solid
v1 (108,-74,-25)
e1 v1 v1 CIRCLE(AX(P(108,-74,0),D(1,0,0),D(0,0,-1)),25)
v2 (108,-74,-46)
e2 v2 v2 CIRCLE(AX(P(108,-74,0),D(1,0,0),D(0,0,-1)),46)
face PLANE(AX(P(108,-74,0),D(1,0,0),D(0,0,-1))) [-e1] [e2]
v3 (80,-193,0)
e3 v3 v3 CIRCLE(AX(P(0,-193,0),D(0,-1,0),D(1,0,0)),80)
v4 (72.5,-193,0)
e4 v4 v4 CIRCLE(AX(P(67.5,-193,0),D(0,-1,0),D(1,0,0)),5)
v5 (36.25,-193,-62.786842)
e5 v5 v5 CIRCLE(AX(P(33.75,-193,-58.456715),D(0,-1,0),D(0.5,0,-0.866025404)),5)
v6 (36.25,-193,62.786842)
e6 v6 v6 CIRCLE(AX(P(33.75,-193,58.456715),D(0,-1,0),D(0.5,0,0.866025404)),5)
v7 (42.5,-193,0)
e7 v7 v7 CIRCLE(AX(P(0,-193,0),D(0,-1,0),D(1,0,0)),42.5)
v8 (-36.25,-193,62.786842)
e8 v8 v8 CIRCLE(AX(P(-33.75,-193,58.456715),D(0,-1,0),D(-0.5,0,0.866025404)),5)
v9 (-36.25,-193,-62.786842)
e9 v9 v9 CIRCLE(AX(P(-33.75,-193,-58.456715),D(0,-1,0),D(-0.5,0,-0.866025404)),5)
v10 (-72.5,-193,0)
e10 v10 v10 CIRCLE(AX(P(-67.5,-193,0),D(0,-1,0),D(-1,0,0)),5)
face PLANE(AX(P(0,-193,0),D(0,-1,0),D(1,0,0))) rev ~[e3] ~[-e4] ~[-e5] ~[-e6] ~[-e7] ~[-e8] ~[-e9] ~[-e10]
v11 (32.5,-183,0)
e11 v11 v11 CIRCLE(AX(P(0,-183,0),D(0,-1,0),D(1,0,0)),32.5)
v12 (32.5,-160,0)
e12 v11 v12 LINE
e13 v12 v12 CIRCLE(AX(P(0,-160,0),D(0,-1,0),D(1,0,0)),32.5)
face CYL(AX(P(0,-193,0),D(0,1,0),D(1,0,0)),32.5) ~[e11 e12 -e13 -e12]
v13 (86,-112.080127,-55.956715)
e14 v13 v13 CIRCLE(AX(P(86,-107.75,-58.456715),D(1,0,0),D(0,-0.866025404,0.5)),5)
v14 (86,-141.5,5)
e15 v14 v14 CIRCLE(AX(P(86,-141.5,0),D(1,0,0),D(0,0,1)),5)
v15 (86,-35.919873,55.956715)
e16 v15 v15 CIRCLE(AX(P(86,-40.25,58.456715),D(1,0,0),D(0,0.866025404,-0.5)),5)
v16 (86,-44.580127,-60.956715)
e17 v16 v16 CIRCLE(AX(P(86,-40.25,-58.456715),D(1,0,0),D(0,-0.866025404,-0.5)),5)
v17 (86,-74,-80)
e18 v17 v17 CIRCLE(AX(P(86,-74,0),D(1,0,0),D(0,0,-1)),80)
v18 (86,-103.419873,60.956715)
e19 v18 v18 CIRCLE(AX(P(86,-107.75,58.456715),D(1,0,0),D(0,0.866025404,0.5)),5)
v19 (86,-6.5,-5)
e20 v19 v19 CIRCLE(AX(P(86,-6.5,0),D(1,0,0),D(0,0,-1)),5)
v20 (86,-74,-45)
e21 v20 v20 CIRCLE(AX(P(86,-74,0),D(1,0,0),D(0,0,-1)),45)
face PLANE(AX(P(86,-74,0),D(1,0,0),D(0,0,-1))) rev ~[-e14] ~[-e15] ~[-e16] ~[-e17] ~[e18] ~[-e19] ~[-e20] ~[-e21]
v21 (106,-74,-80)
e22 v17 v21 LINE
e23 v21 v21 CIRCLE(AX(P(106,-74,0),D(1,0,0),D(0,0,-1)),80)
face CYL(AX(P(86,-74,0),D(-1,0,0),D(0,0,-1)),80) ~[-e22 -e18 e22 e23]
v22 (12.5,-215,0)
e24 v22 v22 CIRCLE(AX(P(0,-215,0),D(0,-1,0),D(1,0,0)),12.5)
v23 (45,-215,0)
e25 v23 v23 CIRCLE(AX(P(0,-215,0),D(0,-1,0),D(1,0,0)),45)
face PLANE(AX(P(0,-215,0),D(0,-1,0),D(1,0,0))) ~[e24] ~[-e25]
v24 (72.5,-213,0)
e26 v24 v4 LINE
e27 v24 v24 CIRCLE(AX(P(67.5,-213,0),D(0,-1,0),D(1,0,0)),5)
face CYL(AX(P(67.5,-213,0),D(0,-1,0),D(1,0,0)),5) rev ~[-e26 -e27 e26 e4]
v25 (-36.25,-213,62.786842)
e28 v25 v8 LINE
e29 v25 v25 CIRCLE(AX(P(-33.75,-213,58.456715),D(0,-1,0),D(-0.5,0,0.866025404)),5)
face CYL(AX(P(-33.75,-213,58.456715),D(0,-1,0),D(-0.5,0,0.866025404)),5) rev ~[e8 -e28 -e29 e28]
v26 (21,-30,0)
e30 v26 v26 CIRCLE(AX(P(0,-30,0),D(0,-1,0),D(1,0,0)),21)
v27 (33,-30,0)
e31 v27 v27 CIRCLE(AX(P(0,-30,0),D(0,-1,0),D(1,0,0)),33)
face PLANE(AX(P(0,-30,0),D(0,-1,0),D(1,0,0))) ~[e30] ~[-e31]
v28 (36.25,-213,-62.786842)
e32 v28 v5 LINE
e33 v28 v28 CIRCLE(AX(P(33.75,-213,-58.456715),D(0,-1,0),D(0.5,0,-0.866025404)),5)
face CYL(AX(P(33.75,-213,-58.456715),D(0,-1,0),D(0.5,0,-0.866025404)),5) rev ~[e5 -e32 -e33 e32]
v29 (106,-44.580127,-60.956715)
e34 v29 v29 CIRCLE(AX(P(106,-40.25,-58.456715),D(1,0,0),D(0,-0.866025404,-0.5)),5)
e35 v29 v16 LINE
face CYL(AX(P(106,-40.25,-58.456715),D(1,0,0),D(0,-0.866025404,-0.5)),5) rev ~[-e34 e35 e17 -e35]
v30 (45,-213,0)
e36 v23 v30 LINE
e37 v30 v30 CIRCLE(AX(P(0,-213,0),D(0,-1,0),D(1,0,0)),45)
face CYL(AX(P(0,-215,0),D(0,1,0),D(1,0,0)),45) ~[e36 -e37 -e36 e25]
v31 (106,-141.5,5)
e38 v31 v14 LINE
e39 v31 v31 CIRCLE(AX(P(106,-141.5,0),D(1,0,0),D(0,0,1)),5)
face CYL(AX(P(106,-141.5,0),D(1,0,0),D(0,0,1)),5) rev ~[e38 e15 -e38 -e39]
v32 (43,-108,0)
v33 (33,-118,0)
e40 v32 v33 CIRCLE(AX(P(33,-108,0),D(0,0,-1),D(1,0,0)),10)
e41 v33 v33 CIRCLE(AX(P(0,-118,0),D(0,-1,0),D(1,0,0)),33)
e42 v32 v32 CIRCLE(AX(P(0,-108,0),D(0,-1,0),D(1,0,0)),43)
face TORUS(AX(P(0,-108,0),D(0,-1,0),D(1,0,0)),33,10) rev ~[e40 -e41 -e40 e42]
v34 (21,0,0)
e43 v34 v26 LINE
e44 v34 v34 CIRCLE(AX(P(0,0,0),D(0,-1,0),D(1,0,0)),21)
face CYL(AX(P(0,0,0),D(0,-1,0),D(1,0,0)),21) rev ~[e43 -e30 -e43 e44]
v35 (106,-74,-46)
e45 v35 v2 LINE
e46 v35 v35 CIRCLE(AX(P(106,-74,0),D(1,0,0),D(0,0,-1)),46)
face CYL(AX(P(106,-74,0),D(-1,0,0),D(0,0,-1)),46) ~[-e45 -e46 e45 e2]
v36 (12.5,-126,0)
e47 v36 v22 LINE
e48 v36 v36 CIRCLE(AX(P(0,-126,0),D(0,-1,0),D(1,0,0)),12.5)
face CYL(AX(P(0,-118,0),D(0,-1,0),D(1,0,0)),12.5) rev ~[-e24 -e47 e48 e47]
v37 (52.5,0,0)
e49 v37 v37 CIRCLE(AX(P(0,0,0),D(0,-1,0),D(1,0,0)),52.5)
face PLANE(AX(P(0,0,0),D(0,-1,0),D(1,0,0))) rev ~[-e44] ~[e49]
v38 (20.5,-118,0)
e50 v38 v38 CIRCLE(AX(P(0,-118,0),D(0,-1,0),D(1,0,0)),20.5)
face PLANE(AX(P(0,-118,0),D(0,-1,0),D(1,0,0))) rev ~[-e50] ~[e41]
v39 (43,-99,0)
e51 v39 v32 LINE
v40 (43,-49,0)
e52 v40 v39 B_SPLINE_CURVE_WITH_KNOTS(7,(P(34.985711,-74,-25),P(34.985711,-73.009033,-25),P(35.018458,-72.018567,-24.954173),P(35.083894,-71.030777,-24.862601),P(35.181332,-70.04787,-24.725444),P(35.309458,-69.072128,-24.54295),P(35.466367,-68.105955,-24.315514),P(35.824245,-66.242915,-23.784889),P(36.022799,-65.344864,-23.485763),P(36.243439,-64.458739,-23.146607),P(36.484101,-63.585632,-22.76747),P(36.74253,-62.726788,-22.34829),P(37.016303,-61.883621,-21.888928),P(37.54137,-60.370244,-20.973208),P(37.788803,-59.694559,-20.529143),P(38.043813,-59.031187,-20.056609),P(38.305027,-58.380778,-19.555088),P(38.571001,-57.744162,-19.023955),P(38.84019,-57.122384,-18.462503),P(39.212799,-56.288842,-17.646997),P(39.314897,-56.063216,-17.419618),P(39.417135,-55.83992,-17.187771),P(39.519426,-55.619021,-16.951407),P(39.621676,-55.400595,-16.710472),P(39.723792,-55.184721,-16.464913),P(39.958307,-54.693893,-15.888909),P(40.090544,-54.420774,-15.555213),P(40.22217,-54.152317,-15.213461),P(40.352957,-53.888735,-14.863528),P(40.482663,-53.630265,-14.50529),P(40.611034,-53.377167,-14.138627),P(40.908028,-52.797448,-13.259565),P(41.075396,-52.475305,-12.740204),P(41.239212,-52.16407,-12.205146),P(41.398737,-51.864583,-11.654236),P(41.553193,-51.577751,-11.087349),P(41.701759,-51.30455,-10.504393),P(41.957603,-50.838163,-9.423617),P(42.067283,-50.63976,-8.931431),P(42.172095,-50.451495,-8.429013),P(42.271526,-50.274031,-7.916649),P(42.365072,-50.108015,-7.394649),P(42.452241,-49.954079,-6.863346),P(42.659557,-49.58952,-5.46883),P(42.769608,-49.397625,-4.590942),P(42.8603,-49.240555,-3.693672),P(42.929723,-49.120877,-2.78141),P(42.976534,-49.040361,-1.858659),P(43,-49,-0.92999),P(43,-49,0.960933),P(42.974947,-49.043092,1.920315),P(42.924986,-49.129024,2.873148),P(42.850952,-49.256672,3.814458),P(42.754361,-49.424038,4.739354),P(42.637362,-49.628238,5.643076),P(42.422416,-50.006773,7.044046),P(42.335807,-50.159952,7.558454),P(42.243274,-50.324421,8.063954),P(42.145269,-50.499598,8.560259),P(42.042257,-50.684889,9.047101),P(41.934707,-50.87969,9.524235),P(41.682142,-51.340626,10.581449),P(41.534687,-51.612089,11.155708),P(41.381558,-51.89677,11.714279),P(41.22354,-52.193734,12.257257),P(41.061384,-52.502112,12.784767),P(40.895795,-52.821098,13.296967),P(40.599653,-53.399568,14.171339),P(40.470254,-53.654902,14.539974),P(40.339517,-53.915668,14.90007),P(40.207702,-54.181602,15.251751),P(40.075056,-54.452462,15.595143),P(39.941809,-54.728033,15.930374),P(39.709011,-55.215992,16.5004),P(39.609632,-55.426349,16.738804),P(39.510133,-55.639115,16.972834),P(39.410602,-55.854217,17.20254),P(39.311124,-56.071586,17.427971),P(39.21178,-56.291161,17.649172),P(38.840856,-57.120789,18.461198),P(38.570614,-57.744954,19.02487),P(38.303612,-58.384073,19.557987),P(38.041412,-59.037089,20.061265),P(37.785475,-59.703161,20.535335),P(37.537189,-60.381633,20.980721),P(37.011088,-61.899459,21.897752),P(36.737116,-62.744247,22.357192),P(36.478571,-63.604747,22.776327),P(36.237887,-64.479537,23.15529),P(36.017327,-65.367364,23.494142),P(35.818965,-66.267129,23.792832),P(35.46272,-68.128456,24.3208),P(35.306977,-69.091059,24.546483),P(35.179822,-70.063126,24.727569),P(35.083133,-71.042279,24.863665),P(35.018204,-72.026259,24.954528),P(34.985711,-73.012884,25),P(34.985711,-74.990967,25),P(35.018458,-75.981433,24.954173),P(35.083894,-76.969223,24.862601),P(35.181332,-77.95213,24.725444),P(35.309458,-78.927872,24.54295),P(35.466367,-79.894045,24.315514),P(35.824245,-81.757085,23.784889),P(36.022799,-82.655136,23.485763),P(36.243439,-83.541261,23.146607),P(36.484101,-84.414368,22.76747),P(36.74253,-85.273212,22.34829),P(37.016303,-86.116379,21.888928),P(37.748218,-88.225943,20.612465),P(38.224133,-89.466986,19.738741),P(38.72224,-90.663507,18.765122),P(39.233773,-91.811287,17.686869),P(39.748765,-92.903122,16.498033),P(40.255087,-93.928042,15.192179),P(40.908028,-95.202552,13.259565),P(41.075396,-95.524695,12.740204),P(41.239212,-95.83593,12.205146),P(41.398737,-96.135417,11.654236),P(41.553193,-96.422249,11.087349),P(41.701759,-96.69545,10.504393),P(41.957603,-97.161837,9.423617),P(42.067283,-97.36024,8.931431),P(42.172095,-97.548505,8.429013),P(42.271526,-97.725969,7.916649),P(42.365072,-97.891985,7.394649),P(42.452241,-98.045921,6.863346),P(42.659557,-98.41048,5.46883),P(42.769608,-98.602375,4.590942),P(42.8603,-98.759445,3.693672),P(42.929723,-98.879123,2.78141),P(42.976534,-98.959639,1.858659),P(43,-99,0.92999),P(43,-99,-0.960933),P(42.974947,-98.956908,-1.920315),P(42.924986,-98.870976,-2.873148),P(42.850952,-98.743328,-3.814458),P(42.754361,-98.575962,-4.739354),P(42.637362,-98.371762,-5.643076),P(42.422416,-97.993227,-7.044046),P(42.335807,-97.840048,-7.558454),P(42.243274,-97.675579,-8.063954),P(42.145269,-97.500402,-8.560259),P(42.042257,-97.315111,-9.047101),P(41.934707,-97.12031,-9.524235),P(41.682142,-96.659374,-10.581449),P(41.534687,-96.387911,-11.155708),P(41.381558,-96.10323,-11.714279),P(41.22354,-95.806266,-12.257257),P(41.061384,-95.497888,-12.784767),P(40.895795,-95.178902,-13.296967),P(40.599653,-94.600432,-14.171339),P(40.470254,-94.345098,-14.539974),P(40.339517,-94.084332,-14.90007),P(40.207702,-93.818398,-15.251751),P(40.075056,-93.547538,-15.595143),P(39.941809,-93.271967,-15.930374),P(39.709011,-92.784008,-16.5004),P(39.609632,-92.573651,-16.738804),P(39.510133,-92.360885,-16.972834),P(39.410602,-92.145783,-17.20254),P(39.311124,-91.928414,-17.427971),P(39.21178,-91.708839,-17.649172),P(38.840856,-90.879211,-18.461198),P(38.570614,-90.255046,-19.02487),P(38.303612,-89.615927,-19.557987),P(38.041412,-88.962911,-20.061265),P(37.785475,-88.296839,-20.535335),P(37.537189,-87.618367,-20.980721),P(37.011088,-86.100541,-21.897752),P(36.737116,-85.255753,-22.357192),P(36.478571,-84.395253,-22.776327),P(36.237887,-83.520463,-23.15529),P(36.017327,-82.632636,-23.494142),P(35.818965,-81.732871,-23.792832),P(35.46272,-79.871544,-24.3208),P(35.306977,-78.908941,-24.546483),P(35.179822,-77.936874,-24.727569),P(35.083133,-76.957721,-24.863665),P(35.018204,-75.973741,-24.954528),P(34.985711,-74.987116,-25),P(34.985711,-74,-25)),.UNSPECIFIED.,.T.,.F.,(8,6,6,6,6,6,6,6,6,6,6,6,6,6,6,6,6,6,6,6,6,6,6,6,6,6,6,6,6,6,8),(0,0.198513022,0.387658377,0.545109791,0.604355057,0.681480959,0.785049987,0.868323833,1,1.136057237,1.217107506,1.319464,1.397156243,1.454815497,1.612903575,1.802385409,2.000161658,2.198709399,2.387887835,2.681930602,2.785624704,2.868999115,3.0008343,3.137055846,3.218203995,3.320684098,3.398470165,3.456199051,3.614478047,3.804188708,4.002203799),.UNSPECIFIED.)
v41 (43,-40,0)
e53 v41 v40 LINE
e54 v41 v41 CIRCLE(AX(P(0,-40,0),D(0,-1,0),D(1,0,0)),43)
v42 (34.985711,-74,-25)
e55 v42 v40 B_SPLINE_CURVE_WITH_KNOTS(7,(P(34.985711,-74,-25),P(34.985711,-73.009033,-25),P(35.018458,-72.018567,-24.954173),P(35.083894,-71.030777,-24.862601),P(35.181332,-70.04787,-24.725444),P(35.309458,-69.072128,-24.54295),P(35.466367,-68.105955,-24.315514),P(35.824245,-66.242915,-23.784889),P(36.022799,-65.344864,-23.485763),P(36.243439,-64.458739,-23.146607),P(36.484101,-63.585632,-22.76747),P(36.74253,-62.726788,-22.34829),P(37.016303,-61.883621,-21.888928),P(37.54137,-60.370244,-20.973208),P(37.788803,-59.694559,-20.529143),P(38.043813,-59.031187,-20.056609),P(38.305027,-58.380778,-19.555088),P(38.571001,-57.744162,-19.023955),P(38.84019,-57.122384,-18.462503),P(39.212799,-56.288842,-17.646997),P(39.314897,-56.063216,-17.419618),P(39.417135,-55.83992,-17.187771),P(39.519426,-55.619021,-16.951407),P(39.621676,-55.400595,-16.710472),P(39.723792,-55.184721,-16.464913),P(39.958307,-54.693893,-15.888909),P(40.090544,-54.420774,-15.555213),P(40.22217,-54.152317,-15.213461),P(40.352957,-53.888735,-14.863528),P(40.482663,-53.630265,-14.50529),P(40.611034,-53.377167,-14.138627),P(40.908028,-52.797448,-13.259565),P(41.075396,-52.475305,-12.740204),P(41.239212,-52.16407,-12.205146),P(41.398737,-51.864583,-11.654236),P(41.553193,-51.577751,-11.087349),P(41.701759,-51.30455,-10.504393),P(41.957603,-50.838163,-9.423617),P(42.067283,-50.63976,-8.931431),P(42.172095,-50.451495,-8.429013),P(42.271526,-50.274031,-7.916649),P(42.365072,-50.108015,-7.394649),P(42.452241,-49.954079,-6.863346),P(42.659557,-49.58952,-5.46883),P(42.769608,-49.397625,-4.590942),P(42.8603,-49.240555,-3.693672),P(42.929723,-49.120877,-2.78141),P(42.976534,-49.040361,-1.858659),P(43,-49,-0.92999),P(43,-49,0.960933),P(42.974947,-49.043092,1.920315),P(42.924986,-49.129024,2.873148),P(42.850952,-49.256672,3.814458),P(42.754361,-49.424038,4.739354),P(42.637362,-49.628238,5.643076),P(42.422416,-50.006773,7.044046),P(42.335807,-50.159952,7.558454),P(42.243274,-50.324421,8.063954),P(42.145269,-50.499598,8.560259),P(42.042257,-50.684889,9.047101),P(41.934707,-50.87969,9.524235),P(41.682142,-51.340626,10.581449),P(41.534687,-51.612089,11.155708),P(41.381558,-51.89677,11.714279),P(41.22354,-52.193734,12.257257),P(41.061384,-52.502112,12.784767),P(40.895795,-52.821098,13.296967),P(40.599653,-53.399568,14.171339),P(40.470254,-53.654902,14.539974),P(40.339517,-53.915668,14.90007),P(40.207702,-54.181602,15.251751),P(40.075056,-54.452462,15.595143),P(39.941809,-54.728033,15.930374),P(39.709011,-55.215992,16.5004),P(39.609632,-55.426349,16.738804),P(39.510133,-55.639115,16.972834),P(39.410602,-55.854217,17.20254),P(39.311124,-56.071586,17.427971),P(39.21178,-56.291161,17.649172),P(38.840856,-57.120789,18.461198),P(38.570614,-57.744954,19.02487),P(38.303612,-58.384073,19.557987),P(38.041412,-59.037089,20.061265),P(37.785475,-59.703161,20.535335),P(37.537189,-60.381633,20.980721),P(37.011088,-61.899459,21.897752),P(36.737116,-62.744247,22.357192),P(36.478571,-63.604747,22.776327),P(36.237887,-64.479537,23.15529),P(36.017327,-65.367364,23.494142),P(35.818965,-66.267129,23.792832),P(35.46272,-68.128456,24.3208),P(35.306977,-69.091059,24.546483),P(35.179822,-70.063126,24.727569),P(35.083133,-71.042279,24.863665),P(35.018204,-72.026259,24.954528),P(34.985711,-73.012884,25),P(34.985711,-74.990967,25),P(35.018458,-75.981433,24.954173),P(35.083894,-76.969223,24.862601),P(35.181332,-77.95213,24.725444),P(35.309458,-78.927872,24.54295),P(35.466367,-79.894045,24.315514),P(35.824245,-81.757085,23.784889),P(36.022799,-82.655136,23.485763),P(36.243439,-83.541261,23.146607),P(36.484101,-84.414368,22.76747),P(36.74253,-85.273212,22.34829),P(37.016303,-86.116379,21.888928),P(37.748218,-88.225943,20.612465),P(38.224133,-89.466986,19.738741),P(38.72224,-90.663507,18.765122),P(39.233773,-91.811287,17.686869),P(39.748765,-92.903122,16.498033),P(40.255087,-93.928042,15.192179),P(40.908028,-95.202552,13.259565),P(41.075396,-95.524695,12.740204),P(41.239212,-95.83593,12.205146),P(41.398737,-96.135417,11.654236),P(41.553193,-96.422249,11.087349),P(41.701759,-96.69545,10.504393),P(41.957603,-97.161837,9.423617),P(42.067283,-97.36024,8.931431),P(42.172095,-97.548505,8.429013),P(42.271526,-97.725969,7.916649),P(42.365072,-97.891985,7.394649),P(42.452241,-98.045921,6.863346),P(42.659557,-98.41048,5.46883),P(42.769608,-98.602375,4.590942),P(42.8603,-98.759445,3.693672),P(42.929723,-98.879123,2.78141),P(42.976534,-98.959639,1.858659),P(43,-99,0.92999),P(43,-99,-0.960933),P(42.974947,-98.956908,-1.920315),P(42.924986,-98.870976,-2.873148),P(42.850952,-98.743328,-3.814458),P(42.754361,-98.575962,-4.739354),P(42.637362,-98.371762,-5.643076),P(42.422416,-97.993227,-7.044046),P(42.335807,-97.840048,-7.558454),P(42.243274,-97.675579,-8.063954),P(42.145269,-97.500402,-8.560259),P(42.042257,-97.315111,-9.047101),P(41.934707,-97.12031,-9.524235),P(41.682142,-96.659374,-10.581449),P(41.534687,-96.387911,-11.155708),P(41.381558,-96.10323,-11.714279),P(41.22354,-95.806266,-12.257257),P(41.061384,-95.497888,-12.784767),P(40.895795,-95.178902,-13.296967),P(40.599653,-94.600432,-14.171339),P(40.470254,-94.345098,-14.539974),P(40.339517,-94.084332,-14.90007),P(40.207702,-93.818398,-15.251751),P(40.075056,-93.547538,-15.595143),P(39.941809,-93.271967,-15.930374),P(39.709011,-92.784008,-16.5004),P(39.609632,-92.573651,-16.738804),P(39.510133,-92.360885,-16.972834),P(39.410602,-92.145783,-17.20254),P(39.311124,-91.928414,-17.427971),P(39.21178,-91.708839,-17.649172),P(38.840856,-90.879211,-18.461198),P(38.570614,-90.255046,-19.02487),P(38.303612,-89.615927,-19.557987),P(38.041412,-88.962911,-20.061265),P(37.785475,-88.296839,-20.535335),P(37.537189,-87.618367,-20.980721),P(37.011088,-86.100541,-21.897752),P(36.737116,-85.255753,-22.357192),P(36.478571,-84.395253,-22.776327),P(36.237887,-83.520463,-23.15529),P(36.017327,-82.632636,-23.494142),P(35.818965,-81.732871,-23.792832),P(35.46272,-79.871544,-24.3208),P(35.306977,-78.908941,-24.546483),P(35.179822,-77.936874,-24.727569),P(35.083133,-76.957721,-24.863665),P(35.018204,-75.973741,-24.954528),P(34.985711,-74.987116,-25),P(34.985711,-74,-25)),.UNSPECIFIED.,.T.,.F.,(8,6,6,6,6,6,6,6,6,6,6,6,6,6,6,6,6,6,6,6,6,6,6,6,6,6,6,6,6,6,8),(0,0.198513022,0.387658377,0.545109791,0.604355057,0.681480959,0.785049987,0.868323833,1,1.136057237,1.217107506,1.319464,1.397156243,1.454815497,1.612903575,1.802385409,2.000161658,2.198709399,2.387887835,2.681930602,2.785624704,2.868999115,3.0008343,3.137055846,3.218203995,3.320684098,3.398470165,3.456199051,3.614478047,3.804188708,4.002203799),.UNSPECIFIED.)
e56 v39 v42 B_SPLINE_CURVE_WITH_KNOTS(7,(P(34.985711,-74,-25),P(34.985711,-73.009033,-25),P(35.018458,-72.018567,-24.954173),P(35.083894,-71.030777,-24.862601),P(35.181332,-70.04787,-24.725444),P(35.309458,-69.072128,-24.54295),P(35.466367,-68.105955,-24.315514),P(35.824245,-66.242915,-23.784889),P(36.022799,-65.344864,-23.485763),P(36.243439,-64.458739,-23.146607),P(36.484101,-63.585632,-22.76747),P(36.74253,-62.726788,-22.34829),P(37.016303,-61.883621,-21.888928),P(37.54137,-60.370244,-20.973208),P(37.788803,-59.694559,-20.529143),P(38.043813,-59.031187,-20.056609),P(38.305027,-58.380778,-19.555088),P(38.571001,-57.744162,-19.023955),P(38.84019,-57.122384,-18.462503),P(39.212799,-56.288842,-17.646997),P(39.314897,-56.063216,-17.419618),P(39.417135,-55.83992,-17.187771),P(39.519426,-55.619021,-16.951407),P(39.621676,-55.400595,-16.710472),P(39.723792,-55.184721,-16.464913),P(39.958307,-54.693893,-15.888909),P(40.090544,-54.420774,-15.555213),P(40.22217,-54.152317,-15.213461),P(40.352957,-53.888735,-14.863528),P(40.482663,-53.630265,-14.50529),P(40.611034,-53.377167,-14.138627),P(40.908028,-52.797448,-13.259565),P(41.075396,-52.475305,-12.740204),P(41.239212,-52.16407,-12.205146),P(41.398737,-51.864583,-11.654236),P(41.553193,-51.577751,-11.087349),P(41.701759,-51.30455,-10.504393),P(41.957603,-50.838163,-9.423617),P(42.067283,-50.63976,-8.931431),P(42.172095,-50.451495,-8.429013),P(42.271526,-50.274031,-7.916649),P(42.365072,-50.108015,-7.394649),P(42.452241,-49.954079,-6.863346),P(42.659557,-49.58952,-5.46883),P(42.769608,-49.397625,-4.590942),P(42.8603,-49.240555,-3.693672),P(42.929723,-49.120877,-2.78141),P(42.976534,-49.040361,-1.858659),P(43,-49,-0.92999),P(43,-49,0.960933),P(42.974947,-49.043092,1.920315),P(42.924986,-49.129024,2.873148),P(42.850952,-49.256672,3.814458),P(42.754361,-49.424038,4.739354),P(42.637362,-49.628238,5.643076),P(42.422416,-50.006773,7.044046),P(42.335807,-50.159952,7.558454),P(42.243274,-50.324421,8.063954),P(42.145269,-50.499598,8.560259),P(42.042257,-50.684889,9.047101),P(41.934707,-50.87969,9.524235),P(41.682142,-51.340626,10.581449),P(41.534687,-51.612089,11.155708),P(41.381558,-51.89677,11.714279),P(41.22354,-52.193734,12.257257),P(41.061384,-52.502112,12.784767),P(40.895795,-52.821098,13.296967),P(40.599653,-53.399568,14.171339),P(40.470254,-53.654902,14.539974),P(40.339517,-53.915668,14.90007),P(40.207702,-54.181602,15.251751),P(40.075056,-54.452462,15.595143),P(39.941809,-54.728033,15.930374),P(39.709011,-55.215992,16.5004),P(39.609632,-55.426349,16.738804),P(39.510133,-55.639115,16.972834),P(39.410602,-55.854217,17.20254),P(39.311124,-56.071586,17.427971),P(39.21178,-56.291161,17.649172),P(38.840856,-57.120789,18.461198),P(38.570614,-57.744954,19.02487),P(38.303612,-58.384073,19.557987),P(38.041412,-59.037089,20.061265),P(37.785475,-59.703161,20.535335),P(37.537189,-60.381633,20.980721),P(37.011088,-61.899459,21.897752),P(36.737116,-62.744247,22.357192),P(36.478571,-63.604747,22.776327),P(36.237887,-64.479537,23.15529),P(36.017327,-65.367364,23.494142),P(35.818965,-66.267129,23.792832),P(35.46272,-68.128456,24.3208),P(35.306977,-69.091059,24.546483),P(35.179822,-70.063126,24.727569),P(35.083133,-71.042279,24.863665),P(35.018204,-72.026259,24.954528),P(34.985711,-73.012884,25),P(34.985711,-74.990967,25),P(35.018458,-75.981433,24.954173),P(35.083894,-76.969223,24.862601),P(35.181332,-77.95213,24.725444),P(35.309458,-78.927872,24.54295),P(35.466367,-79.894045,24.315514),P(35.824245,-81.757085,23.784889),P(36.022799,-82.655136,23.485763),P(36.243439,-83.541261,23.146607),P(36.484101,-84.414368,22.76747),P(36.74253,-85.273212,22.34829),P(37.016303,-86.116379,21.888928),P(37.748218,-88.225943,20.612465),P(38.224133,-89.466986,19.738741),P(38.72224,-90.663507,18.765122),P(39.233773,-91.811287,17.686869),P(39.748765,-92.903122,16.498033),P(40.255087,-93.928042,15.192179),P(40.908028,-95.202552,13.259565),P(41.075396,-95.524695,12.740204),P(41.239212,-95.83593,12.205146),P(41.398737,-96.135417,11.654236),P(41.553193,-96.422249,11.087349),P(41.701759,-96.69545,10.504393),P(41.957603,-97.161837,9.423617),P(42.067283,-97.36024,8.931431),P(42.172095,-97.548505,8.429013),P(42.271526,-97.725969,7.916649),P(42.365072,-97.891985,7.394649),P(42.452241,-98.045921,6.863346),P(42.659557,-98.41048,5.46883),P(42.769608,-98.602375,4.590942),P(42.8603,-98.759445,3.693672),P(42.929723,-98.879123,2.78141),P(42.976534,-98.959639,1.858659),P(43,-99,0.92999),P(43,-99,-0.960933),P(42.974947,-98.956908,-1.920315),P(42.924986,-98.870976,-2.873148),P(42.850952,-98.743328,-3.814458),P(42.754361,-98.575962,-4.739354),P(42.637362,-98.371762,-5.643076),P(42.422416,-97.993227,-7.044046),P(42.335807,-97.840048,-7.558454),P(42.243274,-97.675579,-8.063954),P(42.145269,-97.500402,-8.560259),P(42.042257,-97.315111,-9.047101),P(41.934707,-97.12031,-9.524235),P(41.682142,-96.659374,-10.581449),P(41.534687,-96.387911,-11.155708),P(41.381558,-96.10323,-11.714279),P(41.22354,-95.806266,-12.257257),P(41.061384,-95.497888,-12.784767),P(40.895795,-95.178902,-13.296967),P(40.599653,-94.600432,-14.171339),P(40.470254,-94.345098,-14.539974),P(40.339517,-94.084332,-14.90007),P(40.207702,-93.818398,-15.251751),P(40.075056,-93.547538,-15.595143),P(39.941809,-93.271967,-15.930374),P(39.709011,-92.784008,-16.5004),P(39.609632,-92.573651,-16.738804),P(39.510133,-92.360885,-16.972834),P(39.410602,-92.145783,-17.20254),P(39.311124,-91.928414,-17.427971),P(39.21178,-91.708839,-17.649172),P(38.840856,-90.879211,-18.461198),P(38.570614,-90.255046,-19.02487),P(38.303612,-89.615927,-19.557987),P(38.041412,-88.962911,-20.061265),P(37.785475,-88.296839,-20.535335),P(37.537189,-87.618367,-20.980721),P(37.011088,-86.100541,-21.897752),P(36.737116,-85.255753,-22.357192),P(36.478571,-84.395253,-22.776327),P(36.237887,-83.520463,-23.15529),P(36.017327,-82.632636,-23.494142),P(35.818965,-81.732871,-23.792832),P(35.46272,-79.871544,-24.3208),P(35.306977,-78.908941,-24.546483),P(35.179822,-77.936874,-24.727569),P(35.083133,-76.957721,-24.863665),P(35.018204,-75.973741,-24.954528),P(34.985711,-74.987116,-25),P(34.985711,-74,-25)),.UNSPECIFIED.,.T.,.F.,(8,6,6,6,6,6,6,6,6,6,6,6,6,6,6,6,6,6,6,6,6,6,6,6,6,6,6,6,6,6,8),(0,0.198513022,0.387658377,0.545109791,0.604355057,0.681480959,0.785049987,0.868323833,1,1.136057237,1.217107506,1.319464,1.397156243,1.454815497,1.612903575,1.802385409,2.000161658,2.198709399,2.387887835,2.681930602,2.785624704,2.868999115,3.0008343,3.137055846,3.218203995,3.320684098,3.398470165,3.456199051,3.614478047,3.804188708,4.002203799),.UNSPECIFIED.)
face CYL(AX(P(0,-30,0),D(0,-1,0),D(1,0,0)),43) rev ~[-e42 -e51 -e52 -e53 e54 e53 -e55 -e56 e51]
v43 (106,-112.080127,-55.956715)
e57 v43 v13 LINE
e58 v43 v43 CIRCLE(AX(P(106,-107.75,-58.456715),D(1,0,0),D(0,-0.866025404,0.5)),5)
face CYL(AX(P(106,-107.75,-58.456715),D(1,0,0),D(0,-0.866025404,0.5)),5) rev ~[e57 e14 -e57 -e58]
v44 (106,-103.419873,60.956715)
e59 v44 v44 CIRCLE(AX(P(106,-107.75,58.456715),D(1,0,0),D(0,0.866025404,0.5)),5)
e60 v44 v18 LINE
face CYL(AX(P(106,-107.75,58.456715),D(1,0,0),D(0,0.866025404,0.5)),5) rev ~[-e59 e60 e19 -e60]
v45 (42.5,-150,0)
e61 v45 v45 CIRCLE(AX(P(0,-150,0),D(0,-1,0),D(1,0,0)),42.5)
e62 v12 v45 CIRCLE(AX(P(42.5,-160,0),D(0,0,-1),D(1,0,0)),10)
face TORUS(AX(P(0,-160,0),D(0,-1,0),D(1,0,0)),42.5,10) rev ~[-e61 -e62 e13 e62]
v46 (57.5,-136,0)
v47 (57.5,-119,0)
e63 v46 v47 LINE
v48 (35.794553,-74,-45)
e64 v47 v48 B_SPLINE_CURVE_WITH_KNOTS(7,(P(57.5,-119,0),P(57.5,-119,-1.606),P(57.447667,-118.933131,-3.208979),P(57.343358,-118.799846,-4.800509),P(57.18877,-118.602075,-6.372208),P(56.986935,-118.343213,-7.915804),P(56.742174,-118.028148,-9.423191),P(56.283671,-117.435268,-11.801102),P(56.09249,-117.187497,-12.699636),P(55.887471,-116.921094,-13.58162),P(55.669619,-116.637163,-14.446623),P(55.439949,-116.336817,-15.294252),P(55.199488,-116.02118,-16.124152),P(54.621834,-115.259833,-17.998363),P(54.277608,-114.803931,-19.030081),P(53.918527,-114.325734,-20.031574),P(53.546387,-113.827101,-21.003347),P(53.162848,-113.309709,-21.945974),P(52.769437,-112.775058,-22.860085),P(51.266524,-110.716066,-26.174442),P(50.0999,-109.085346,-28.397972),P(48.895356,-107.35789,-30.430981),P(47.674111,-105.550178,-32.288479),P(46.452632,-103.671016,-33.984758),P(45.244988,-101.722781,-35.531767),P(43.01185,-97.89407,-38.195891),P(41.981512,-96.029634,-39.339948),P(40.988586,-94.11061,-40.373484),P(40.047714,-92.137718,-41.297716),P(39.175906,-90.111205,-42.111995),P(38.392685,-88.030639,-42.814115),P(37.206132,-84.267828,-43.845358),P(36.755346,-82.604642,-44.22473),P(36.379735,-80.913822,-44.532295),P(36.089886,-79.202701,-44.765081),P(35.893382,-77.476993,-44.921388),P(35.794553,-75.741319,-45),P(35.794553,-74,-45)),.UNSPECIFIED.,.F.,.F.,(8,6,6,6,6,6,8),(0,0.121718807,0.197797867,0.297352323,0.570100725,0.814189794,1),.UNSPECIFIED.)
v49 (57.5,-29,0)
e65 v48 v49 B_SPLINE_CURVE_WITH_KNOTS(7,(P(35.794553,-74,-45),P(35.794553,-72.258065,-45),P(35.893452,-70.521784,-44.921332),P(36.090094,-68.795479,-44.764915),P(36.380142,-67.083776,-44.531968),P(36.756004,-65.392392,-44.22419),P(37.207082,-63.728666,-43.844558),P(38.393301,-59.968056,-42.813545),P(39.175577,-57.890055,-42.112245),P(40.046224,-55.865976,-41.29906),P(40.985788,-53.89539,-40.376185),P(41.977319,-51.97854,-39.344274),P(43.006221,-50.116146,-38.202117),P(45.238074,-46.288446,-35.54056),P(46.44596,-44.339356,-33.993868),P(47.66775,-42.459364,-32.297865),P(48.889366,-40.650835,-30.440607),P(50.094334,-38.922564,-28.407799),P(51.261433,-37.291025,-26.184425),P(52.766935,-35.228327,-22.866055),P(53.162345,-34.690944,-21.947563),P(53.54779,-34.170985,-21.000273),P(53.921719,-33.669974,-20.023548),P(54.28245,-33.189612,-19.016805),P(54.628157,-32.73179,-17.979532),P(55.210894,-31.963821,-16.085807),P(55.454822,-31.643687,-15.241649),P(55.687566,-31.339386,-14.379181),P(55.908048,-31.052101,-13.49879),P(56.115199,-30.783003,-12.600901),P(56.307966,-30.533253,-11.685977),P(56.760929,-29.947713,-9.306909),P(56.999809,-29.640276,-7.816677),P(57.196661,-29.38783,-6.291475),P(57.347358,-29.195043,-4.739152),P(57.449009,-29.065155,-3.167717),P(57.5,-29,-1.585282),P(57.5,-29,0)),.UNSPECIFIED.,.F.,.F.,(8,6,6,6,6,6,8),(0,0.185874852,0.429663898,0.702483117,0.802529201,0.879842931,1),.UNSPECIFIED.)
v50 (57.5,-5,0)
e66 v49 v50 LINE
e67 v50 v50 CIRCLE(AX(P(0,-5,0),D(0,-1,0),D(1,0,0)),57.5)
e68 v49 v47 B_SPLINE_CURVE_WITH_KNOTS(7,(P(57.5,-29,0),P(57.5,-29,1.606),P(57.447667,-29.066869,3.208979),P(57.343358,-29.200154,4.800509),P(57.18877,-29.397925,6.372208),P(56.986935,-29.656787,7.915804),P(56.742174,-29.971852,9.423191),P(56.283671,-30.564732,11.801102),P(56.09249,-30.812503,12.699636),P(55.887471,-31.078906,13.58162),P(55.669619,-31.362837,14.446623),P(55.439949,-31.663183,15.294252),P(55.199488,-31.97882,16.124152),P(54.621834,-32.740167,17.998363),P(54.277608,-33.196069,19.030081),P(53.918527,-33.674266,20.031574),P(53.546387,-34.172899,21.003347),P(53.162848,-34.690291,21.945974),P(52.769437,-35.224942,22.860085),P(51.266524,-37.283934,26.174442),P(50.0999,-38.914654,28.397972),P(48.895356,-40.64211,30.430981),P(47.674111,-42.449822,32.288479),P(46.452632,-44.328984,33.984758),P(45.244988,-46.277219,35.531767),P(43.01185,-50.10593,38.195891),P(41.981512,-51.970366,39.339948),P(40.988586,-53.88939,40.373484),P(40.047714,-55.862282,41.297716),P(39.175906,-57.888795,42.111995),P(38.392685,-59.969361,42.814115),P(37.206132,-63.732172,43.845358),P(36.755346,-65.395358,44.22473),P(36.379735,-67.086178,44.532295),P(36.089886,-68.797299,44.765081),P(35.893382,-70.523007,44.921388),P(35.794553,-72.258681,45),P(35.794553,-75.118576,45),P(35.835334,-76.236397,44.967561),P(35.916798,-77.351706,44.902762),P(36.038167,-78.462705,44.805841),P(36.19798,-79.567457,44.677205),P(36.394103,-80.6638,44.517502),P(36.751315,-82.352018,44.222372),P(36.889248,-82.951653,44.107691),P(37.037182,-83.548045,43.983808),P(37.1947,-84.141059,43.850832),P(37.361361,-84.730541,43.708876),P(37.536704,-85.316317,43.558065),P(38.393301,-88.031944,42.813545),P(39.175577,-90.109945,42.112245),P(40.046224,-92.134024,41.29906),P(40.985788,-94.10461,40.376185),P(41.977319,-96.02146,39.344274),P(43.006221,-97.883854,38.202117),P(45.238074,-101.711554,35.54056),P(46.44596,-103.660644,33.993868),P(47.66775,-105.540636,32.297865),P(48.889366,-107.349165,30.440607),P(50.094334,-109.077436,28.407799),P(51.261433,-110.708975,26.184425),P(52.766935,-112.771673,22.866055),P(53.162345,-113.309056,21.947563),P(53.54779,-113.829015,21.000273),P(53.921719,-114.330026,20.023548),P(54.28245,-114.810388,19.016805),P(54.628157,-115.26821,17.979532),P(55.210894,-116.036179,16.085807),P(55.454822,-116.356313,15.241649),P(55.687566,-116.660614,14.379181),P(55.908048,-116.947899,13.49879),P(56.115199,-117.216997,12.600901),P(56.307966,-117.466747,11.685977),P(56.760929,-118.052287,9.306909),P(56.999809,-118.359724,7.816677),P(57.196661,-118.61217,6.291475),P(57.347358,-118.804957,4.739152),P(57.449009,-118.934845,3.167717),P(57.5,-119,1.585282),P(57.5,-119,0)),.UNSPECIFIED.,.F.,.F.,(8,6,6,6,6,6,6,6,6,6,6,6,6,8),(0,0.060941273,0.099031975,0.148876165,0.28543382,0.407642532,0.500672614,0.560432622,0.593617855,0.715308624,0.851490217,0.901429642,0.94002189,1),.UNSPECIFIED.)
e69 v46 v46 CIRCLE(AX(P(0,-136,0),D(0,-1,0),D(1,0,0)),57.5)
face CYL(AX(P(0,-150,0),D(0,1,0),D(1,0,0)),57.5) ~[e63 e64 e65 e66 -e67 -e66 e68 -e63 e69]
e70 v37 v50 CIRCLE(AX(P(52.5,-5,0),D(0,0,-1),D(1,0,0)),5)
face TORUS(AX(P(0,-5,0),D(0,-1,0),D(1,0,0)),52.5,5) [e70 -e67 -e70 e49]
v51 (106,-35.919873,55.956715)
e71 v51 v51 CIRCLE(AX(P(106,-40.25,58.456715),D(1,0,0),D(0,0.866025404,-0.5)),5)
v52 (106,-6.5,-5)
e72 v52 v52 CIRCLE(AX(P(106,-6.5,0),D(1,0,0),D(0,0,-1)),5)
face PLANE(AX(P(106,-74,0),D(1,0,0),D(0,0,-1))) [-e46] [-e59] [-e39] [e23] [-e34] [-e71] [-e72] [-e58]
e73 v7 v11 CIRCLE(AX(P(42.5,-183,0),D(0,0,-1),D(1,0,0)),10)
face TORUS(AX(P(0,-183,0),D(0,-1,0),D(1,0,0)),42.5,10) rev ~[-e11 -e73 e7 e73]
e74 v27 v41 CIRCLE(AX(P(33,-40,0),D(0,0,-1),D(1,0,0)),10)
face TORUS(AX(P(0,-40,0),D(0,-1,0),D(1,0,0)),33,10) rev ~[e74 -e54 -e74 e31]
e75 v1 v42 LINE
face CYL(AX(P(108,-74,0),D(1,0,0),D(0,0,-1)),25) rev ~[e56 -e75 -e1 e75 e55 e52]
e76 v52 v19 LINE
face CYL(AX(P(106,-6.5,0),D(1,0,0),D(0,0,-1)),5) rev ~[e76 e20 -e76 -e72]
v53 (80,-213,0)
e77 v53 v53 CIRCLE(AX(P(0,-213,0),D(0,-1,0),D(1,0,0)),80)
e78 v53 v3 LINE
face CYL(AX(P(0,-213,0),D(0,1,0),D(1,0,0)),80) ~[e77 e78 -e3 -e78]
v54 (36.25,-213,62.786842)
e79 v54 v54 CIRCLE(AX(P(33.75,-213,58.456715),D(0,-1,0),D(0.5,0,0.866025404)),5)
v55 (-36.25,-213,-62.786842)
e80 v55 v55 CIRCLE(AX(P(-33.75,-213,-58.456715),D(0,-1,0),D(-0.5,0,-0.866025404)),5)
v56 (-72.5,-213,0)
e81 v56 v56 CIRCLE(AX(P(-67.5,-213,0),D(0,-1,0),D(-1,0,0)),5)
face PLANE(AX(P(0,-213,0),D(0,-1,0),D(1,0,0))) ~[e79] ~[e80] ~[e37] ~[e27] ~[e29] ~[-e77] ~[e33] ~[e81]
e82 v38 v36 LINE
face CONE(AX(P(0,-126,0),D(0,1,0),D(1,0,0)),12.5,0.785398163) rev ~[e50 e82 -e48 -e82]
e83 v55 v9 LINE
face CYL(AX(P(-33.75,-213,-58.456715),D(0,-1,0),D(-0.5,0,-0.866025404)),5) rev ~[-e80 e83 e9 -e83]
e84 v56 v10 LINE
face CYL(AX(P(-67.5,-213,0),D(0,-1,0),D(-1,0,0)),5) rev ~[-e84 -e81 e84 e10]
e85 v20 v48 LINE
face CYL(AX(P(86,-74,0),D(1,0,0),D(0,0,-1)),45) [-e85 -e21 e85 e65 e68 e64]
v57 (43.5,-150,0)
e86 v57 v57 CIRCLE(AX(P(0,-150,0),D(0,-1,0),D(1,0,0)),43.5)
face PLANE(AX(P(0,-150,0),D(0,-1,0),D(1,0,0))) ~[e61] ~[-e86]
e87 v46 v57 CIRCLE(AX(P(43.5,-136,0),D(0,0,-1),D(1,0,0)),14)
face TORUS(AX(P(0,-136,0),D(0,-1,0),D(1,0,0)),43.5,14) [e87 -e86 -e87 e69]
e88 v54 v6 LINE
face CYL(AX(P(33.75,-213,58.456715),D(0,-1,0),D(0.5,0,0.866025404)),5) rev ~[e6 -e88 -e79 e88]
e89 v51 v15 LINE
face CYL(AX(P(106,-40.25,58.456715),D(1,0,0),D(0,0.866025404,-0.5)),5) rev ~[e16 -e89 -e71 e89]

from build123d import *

# Parameters (mm, degrees)
ZAOBLIT1_R               = 10
ZAOBLIT2_R               = 14
ZKOSEN_1_SIZE            = 8
ZAOBLIT3_R               = 5
SKICA3_R                 = 5
ODEBRAT_VYSUNUT_M3_DEPTH = 20
KRUHOV_POLE1_COUNT       = 6
P_IDAT_VYSUNUT_M2_REACH  = 168
SKICA4_R                 = 45
SKICA5_R                 = 80
P_IDAT_VYSUNUT_M3_DEPTH  = 20
SKICA6_R                 = 46
P_IDAT_VYSUNUT_M4_DEPTH  = 2
ODEBRAT_VYSUNUT_M4_REACH = 190
SKICA7_R                 = 25
SKICA8_R                 = 5
ODEBRAT_VYSUNUT_M5_DEPTH = 20
KRUHOV_POLE2_COUNT       = 6


with BuildPart() as part:
    # Skica1 → Rotovat1 (revolve)
    with BuildSketch(Plane.XY):
        Polygon((57.5, 0), (21, 0), (21, -30), (43, -30), (43, -118), (12.5, -118), (12.5, -215), (45, -215), (45, -213), (80, -213), (80, -193), (32.5, -193), (32.5, -150), (57.5, -150), align=None)
    revolve(axis=Axis((0, 44.732136913, 0), (0, -1, 0)))

    # Zaoblit1
    zaoblit1_edges = [part.edges().sort_by_distance(p)[0] for p in [
        (-43, -118, 0),
        (-43, -30, 0),
        (-32.5, -150, 0),
        (-32.5, -193, 0),
    ]]
    fillet(zaoblit1_edges, radius=ZAOBLIT1_R)

    # Zaoblit2
    zaoblit2_edges = [part.edges().sort_by_distance(p)[0] for p in [
        (-57.5, -150, 0),
    ]]
    fillet(zaoblit2_edges, radius=ZAOBLIT2_R)

    # Zkosení1
    zkosen_1_edges = [part.edges().sort_by_distance(p)[0] for p in [
        (-12.5, -118, 0),
    ]]
    chamfer(zkosen_1_edges, length=ZKOSEN_1_SIZE)

    # Zaoblit3
    zaoblit3_edges = [part.edges().sort_by_distance(p)[0] for p in [
        (-57.5, 0, 0),
    ]]
    fillet(zaoblit3_edges, radius=ZAOBLIT3_R)

    # Skica3 → Odebrat vysunutím3 (cut)
    with BuildSketch(Plane.XZ.offset(213)):
        with Locations((67.5, 0)):
            Circle(SKICA3_R)
    odebrat_vysunut_m3 = extrude(amount=-ODEBRAT_VYSUNUT_M3_DEPTH, mode=Mode.SUBTRACT)

    # Kruhové pole1: Odebrat vysunutím3 ×6 about axis
    kruhov_pole1_axis = Axis((0, 0, 0), (0, 1, 0))
    for i in range(1, KRUHOV_POLE1_COUNT):
        add(odebrat_vysunut_m3.rotate(kruhov_pole1_axis, i * 360 / KRUHOV_POLE1_COUNT), mode=Mode.SUBTRACT)

    # Skica4 → Přidat vysunutím2 (add, up to next)
    with BuildSketch(Plane(origin=(86, 0, 0), x_dir=(0, 0, -1), z_dir=(1, 0, 0)), mode=Mode.PRIVATE) as p_idat_vysunut_m2_sk1:
        with Locations((0, -74)):
            Circle(SKICA4_R)
    p_idat_vysunut_m2_tool1 = extrude(p_idat_vysunut_m2_sk1.sketch, amount=-P_IDAT_VYSUNUT_M2_REACH, mode=Mode.PRIVATE) - part.part
    add(p_idat_vysunut_m2_tool1.solids().sort_by_distance((86, -74, 0))[0])

    # Skica5 → Přidat vysunutím3 (add)
    with BuildSketch(Plane(origin=(86, 0, 0), x_dir=(0, 0, -1), z_dir=(1, 0, 0))):
        with Locations((0, -74)):
            Circle(SKICA5_R)
    extrude(amount=P_IDAT_VYSUNUT_M3_DEPTH)

    # Skica6 → Přidat vysunutím4 (add)
    with BuildSketch(Plane(origin=(106, 0, 0), x_dir=(0, 0, -1), z_dir=(1, 0, 0))):
        with Locations((0, -74)):
            Circle(SKICA6_R)
    extrude(amount=P_IDAT_VYSUNUT_M4_DEPTH)

    # Skica7 → Odebrat vysunutím4 (cut, up to next)
    with BuildSketch(Plane(origin=(108, 0, 0), x_dir=(0, 0, -1), z_dir=(1, 0, 0)), mode=Mode.PRIVATE) as odebrat_vysunut_m4_sk1:
        with Locations((0, -74)):
            Circle(SKICA7_R)
    odebrat_vysunut_m4_tool1 = extrude(odebrat_vysunut_m4_sk1.sketch, amount=-ODEBRAT_VYSUNUT_M4_REACH, mode=Mode.PRIVATE) & part.part
    add(odebrat_vysunut_m4_tool1.solids().sort_by_distance((108, -74, 0))[0], mode=Mode.SUBTRACT)

    # Skica8 → Odebrat vysunutím5 (cut)
    with BuildSketch(Plane(origin=(106, 0, 0), x_dir=(0, 0, -1), z_dir=(1, 0, 0))):
        with Locations((0, -6.5)):
            Circle(SKICA8_R)
    odebrat_vysunut_m5 = extrude(amount=-ODEBRAT_VYSUNUT_M5_DEPTH, mode=Mode.SUBTRACT)

    # Kruhové pole2: Odebrat vysunutím5 ×6 about axis
    kruhov_pole2_axis = Axis((0, -74, 0), (1, 0, 0))
    for i in range(1, KRUHOV_POLE2_COUNT):
        add(odebrat_vysunut_m5.rotate(kruhov_pole2_axis, i * 360 / KRUHOV_POLE2_COUNT), mode=Mode.SUBTRACT)


solid = part.part
